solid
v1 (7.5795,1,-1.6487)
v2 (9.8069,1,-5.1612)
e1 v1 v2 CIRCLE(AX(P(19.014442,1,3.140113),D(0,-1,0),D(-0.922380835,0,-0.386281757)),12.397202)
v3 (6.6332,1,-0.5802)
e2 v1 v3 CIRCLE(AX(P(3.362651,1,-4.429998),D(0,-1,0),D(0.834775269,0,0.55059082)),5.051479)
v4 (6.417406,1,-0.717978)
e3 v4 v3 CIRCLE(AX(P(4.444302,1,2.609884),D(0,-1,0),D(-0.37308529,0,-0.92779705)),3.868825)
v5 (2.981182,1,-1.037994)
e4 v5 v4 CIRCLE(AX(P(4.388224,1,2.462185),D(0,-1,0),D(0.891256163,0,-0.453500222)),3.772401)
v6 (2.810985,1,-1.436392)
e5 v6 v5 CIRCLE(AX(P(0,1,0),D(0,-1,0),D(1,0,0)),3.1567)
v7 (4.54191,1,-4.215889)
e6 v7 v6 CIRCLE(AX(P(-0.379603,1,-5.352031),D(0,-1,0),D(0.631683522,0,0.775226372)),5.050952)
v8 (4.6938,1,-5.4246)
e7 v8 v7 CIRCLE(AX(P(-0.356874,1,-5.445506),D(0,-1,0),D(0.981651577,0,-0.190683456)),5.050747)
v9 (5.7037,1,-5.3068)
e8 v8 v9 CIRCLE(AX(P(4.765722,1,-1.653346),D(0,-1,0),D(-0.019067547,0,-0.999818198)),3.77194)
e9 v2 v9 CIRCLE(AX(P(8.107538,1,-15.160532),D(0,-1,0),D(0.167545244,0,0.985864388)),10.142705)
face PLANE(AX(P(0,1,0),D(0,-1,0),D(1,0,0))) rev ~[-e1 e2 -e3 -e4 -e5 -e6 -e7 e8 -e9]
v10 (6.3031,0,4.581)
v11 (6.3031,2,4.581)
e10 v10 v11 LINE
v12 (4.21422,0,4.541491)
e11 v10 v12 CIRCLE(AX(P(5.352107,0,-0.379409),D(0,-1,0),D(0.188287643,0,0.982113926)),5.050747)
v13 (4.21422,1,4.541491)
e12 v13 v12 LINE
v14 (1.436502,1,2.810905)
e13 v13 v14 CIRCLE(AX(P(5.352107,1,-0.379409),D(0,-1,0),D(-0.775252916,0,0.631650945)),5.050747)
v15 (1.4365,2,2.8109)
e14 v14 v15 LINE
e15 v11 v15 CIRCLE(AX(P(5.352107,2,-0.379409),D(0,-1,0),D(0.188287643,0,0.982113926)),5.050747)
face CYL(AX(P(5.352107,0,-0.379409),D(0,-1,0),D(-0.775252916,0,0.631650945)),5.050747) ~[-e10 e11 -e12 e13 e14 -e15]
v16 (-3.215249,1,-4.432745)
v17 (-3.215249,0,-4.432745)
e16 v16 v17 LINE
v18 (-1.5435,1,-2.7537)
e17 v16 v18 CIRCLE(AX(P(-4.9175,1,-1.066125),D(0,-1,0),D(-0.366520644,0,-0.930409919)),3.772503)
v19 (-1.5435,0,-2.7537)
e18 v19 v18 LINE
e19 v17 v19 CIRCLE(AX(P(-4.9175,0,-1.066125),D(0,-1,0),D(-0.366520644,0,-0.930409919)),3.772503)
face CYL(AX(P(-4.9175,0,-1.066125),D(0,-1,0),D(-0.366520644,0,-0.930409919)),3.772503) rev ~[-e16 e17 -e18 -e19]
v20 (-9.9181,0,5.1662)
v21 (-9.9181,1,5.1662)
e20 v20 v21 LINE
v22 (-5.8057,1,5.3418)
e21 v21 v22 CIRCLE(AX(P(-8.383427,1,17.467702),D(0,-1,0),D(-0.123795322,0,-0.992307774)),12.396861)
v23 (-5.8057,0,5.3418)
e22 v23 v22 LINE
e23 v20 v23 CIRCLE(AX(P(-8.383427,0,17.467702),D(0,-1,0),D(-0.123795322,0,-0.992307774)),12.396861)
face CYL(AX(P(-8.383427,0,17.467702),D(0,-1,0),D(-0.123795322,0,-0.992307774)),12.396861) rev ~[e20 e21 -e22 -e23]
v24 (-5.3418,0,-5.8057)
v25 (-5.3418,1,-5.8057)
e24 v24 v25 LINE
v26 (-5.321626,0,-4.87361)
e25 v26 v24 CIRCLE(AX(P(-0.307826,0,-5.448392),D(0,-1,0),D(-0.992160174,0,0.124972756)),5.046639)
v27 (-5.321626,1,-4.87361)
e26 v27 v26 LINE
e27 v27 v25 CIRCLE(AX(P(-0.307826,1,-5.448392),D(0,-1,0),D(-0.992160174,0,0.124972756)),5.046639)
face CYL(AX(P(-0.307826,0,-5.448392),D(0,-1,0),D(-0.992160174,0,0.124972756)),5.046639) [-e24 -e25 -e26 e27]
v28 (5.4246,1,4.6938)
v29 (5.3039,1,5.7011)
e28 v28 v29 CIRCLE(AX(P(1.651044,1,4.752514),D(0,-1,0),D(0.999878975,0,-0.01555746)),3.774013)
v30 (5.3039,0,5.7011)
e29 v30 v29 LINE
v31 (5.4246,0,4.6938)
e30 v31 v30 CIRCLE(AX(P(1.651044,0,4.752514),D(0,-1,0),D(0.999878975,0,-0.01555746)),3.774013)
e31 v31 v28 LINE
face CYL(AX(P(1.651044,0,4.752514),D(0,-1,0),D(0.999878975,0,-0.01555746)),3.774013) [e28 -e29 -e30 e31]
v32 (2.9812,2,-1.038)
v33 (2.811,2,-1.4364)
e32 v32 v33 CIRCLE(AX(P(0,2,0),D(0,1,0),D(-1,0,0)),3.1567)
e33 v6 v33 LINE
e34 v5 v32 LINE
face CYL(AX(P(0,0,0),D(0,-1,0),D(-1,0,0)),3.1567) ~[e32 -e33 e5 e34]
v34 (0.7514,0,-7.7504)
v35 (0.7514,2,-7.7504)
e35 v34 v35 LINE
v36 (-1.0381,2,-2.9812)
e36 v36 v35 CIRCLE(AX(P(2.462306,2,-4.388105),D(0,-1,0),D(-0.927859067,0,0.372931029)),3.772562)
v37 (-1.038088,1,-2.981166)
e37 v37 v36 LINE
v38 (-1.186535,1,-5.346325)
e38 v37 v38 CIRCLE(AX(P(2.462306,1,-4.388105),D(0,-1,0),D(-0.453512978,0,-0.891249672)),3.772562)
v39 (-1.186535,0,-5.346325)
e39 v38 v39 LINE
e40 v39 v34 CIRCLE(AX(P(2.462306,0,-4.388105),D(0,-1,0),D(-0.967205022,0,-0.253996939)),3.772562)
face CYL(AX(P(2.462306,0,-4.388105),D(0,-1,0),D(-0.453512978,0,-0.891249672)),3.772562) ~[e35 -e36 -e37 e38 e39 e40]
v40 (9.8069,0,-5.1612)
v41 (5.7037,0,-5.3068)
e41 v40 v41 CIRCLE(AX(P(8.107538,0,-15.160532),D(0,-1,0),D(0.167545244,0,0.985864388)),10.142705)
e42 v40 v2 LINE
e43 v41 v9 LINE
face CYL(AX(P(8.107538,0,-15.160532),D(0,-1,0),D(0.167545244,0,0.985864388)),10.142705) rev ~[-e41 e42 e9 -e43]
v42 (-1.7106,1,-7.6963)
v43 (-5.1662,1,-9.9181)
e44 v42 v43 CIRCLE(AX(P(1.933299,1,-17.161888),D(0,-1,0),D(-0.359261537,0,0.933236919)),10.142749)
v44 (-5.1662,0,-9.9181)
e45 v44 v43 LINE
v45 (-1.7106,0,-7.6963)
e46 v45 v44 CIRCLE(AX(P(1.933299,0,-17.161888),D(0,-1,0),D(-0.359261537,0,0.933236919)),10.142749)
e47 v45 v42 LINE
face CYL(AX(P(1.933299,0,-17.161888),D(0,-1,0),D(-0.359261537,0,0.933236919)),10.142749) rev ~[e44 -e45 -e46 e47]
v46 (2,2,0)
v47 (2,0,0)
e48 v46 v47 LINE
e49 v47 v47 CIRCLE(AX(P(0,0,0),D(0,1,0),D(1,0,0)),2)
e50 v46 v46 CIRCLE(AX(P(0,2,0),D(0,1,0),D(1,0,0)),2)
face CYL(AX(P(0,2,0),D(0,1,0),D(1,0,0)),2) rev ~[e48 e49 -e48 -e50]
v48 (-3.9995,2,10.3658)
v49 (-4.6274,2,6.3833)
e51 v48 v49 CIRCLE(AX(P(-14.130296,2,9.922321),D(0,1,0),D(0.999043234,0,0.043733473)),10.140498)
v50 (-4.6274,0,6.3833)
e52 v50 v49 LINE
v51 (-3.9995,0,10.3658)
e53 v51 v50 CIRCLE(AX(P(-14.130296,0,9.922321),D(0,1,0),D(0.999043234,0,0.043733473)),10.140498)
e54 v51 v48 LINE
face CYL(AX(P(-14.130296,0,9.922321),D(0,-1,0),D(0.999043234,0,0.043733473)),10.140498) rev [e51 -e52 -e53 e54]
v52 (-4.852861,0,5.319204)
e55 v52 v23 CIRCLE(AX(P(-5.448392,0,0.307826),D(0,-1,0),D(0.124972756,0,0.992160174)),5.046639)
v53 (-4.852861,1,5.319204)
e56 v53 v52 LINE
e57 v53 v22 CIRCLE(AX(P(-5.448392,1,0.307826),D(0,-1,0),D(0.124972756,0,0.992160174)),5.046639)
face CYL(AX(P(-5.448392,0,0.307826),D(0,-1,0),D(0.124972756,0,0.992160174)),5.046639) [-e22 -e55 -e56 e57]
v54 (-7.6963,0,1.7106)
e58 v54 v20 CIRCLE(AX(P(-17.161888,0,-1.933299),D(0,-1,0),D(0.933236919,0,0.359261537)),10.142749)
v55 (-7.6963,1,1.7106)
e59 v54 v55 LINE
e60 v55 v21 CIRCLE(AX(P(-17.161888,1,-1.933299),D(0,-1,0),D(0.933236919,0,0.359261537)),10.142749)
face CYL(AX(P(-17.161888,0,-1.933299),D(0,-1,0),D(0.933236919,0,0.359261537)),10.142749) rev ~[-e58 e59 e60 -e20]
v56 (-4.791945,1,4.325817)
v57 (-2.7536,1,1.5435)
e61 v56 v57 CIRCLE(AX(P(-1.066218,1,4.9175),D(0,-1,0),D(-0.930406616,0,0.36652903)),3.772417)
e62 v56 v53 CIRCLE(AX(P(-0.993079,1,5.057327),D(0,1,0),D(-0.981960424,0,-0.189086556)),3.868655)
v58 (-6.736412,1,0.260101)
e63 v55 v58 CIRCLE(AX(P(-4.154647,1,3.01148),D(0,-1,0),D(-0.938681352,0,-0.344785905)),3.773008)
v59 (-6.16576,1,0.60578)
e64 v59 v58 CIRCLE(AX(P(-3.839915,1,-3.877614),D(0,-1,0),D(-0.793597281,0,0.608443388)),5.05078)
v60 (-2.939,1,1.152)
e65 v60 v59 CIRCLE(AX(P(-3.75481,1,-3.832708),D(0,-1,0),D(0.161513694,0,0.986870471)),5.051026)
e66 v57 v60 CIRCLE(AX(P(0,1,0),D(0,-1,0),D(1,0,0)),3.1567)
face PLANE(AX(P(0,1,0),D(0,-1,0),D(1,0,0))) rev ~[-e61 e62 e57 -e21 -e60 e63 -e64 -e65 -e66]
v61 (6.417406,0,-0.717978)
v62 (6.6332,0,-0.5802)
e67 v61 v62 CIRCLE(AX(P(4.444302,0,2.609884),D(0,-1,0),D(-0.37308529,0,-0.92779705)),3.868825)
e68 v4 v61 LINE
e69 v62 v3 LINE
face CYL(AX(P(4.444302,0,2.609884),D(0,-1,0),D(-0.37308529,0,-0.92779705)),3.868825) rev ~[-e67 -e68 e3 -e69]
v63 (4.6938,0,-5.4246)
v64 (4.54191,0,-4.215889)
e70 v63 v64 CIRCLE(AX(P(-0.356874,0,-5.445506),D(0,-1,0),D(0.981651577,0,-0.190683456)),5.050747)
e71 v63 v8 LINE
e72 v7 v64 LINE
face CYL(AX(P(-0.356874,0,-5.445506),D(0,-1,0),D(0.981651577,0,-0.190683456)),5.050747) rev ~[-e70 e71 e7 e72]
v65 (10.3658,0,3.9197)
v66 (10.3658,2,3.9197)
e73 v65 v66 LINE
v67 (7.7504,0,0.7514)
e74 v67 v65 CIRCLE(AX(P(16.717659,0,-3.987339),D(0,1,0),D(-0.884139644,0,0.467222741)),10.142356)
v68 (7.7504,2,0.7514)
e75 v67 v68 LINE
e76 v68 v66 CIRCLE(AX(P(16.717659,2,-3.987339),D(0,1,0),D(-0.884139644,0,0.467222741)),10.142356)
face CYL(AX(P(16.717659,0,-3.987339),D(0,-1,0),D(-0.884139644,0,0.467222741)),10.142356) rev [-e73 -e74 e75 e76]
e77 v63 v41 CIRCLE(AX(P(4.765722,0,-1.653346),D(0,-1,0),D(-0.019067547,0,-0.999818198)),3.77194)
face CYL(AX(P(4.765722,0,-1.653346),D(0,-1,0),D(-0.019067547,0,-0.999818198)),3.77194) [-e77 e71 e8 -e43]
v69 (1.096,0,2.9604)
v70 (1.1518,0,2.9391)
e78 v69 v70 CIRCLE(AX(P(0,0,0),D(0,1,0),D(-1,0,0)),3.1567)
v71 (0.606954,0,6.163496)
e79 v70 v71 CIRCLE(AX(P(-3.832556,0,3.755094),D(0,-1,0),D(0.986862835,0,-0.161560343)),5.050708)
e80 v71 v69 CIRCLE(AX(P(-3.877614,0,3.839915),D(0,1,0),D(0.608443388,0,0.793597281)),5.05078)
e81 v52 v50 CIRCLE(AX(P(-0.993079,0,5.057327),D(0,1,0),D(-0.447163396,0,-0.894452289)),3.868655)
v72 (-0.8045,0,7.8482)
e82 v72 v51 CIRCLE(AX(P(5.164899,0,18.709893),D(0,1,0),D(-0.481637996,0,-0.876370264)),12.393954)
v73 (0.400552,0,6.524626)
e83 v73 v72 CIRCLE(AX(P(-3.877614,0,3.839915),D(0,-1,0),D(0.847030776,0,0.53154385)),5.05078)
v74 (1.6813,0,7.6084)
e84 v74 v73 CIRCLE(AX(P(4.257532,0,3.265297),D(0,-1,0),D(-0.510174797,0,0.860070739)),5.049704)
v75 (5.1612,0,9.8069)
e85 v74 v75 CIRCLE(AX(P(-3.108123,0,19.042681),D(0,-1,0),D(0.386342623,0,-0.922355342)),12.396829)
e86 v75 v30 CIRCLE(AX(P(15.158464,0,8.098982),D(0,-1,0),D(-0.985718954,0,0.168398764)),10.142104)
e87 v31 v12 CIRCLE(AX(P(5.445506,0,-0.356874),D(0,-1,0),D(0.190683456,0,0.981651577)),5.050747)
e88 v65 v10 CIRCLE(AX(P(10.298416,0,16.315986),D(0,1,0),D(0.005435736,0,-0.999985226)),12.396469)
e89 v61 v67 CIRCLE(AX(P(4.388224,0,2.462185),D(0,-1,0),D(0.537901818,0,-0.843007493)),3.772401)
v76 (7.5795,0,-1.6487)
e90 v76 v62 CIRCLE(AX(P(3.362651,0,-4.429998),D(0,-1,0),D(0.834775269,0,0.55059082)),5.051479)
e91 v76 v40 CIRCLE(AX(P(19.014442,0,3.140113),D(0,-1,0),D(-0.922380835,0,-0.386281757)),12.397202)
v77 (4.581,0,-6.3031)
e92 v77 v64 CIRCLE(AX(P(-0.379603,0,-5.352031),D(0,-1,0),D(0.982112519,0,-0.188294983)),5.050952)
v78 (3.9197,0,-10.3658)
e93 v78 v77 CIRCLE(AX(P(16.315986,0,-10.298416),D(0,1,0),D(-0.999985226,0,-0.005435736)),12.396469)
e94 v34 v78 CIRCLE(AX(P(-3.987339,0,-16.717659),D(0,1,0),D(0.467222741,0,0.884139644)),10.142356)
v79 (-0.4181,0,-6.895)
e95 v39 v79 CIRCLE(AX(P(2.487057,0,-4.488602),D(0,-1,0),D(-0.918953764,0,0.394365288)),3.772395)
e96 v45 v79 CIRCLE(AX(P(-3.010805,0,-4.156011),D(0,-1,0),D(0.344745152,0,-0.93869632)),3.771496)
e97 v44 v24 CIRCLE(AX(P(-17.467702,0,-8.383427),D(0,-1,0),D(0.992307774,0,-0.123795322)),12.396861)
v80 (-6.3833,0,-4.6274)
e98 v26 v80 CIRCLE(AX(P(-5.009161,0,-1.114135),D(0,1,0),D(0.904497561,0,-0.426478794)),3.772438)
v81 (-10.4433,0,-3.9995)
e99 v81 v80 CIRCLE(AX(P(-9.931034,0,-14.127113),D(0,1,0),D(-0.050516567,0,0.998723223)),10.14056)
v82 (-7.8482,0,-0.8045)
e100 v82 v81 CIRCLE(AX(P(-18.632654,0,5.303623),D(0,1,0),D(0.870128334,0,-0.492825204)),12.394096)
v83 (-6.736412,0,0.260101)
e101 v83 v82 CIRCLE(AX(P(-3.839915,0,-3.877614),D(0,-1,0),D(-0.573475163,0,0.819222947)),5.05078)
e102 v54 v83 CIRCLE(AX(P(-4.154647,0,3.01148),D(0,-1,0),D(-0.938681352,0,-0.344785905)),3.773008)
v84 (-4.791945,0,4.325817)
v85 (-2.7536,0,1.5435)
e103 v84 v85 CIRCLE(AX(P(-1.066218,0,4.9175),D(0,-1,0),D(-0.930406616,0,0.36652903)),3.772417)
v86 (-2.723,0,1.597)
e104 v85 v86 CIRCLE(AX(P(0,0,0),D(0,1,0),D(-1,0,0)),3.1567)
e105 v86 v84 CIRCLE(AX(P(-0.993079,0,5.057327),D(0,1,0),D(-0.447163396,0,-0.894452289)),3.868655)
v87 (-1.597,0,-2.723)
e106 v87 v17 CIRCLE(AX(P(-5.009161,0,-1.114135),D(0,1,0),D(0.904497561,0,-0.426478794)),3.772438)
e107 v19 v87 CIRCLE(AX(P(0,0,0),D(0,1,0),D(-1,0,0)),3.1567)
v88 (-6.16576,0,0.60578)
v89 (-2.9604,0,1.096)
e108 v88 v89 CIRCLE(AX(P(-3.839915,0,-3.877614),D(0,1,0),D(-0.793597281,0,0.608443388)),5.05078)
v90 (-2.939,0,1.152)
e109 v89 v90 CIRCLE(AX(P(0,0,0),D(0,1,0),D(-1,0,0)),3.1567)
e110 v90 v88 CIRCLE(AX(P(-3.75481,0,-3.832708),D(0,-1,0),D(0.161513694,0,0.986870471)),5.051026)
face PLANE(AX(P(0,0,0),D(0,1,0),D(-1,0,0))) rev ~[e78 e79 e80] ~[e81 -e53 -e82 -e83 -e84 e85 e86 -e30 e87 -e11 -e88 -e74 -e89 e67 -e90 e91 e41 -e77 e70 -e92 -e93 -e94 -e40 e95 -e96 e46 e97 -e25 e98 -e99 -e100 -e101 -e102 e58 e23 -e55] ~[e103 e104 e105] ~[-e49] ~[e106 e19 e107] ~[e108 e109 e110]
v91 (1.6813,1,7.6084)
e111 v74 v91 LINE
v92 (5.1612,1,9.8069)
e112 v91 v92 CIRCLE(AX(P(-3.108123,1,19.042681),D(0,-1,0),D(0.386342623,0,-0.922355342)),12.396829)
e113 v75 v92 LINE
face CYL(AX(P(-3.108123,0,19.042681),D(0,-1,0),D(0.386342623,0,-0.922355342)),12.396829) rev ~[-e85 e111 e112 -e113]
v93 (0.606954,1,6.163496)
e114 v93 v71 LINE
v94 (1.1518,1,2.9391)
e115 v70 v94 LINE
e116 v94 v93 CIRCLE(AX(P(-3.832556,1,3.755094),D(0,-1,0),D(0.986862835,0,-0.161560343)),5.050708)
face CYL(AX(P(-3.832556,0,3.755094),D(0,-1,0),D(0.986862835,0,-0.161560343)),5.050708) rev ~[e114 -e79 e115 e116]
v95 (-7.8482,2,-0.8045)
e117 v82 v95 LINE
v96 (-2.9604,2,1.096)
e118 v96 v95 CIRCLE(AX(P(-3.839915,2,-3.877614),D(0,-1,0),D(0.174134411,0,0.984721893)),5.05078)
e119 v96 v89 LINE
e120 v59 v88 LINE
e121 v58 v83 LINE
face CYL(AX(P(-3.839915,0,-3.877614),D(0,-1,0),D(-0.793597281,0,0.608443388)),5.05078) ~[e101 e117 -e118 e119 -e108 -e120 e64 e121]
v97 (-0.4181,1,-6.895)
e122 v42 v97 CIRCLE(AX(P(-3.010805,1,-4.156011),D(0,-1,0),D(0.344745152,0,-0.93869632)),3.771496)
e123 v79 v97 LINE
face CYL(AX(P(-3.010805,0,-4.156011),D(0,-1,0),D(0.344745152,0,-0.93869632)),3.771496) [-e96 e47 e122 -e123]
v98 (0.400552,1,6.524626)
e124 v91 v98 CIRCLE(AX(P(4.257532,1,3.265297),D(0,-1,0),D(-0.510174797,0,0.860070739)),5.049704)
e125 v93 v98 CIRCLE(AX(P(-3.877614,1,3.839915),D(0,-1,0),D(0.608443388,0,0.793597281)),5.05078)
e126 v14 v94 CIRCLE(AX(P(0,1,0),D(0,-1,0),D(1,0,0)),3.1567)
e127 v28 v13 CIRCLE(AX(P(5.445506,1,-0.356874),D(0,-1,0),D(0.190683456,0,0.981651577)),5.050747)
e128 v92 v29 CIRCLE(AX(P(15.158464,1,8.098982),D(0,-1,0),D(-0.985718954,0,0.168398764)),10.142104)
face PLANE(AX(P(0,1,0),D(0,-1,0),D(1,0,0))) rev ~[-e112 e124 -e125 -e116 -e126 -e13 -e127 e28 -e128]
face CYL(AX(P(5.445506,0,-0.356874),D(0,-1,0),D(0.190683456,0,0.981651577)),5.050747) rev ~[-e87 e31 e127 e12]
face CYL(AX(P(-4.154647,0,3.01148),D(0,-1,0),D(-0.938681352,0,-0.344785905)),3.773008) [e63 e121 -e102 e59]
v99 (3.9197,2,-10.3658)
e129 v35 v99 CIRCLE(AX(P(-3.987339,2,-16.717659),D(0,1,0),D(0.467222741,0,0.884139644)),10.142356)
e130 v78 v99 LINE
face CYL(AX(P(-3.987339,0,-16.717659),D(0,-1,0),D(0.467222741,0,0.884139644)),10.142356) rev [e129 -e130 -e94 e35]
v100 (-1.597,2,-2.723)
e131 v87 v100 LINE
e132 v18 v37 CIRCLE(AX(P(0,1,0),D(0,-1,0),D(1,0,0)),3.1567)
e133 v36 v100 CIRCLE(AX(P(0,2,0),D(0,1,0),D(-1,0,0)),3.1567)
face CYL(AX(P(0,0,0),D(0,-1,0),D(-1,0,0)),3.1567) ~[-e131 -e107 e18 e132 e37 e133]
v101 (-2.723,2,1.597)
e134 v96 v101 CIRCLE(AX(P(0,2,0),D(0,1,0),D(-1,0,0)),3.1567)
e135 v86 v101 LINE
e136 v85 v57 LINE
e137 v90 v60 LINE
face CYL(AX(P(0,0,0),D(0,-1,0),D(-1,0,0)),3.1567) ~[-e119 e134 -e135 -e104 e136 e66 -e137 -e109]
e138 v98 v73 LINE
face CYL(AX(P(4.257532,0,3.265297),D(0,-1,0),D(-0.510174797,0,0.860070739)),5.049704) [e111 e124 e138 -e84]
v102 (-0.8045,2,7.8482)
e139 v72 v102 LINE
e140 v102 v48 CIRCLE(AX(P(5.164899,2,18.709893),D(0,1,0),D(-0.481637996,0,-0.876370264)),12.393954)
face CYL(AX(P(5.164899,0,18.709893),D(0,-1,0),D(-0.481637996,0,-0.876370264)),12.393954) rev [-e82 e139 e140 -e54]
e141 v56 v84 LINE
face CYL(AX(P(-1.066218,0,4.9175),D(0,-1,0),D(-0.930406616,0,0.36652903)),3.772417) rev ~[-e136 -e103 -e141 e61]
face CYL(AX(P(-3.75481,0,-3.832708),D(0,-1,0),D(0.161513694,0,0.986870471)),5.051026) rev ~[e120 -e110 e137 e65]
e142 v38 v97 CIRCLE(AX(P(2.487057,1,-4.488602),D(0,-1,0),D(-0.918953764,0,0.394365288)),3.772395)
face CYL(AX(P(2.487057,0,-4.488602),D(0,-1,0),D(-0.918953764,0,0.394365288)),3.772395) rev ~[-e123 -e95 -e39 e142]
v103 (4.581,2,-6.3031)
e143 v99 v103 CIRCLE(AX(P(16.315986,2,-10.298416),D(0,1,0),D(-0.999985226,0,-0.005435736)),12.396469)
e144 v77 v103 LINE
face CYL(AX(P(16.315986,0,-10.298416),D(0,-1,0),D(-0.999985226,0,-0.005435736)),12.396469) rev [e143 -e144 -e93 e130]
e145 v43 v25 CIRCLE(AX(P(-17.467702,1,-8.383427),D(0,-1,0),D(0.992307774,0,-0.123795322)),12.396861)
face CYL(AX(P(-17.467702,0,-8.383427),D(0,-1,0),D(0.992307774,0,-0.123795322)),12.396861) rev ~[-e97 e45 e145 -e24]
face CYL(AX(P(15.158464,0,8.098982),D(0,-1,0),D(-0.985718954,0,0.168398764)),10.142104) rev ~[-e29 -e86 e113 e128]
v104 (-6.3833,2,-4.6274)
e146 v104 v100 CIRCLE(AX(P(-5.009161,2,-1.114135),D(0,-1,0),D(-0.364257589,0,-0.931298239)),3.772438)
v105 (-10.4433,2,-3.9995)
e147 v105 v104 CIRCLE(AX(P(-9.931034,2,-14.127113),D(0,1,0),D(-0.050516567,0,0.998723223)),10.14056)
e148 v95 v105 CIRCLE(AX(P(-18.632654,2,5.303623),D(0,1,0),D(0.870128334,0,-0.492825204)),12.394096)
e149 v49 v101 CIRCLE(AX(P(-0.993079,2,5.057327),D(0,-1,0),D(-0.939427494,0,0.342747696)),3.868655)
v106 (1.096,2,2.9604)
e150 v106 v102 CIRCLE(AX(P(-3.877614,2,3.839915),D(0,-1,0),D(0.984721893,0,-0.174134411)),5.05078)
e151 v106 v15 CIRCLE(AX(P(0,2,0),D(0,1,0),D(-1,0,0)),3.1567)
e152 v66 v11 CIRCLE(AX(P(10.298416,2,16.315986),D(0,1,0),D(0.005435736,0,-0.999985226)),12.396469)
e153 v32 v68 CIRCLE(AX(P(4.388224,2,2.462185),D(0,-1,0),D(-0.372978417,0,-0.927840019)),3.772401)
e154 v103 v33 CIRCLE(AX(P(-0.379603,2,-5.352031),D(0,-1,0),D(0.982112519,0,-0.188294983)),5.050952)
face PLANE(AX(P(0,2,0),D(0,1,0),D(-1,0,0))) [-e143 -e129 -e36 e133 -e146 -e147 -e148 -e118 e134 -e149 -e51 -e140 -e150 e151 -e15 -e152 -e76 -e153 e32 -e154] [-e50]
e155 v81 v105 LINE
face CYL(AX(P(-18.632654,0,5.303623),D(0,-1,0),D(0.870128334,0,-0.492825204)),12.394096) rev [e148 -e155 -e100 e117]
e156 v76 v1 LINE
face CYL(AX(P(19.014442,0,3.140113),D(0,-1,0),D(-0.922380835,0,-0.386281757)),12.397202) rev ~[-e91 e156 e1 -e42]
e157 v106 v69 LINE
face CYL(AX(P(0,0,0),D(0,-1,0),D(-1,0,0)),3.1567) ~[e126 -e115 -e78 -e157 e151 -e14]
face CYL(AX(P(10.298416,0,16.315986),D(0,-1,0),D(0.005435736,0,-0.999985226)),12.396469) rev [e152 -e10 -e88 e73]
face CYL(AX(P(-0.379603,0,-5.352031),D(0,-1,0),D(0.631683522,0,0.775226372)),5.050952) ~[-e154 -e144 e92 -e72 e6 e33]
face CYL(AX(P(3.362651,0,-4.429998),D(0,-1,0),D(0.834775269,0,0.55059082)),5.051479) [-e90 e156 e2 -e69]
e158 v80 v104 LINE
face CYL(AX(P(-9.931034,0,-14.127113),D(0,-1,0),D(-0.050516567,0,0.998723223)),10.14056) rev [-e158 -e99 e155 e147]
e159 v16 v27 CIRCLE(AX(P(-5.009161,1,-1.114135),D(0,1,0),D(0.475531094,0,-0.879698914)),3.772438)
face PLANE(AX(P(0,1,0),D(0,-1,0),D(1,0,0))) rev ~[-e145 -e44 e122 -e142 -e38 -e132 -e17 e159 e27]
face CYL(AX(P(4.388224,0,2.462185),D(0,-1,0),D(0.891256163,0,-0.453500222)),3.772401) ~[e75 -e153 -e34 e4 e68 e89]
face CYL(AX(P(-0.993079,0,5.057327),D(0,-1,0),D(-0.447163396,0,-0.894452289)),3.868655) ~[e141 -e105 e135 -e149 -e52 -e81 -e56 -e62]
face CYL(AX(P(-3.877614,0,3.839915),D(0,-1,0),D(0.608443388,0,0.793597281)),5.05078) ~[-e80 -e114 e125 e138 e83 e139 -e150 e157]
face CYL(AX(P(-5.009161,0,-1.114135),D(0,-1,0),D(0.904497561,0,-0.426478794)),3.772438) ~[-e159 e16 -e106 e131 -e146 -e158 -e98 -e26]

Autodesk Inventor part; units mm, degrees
ref_plane "YZ Plane" through (0, 0, 0) normal (1, 0, 0) x (0, 1, 0)
ref_plane "XZ Plane" through (0, 0, 0) normal (0, 1, 0) x (-1, 0, 0)
ref_plane "XY Plane" through (0, 0, 0) normal (0, 0, 1) x (1, 0, 0)
sketch "Sketch1" plane through (0, 0, 0) normal (0, 1, 0) x (-1, 0, 0)
  circle A0 centre (0, 0) radius 3.1567
  arc A1 (0.8045, 7.8482) -> (-1.096, 2.9604) centre (3.8775, 3.84) ccw
  arc A2 (0.8045, 7.8482) -> (3.9995, 10.3658) centre (-5.1655, 18.7108) ccw
  arc A3 (3.9995, 10.3658) -> (4.6274, 6.3833) centre (14.1317, 9.9224) ccw
  arc A4 (2.723, 1.597) -> (4.6274, 6.3833) centre (0.993, 5.0574) ccw
  arc A5 (-2.811, -1.4364) -> (-4.581, -6.3031) centre (0.3797, -5.3521) ccw
  arc A6 (-3.9197, -10.3658) -> (-4.581, -6.3031) centre (-16.3145, -10.2983) ccw
  arc A7 (-0.7514, -7.7504) -> (-3.9197, -10.3658) centre (3.9871, -16.7173) ccw
  arc A8 (-0.7514, -7.7504) -> (1.0381, -2.9812) centre (-2.4622, -4.3882) ccw
  arc A9 (-4.581, 6.3031) -> (-3.9197, 10.3658) centre (-16.3145, 10.2983) ccw
  arc A10 (-3.9197, 10.3658) -> (-0.7514, 7.7504) centre (3.9871, 16.7173) ccw
  arc A11 (0.0827, -7.173) -> (0.8045, -7.8482) centre (3.8775, -3.84) ccw
  arc A12 (3.9995, -10.4433) -> (0.8045, -7.8482) centre (-5.3042, -18.6335) ccw
  arc A13 (4.6274, -6.3833) -> (3.9995, -10.4433) centre (14.1284, -9.9311) ccw
  arc A14 (4.6274, -6.3833) -> (4.8845, -4.8845) centre (1.1142, -5.0091) ccw
  arc A15 (-6.3833, -4.6274) -> (-4.6482, -4.8692) centre (-5.0091, -1.1142) ccw
  arc A16 (-1.4365, 2.8109) -> (-6.3031, 4.581) centre (-5.3521, -0.3794) ccw
  arc A17 (-7.7504, 0.7514) -> (-2.9812, -1.038) centre (-4.3883, 2.4621) ccw
  arc A18 (-6.3833, -4.6274) -> (-10.4433, -3.9995) centre (-9.9311, -14.1284) ccw
  arc A19 (-10.4433, -3.9995) -> (-7.8482, -0.8045) centre (-18.6335, 5.3042) ccw
  arc A20 (-7.7504, 0.7514) -> (-10.3658, 3.9197) centre (-16.7173, -3.9871) ccw
  arc A21 (-10.3658, 3.9197) -> (-6.3031, 4.581) centre (-10.2983, 16.3145) ccw
  arc A22 (-7.173, -0.0827) -> (-7.8482, -0.8045) centre (-3.84, -3.8775) ccw
  circle A23 centre (0, 0) radius 3.1567
  arc A24 (1.597, -2.723) -> (6.3833, -4.6274) centre (5.0091, -1.1142) ccw
  arc A25 (7.8482, -0.8045) -> (10.4433, -3.9995) centre (18.6335, 5.3042) ccw
  arc A26 (10.4433, -3.9995) -> (6.3833, -4.6274) centre (9.9311, -14.1284) ccw
  arc A27 (7.8482, -0.8045) -> (2.9604, 1.096) centre (3.84, -3.8775) ccw
  arc A28 (10.3658, 3.9197) -> (7.7544, 0.7514) centre (16.7241, -3.9816) ccw
  arc A29 (6.2595, 4.581) -> (10.3658, 3.9197) centre (10.2556, 16.3142) ccw
  arc A30 (-4.581, 6.3031) -> (-4.6176, 4.6176) centre (0.3794, 5.3521) ccw
  arc A31 (0.0827, 7.173) -> (-0.7514, 7.7504) centre (-2.4621, 4.3883) ccw
  arc A32 (6.2595, 4.581) -> (4.8322, 4.581) centre (5.5459, -0.4191) ccw
  arc A33 (7.173, -0.0827) -> (7.7544, 0.7514) centre (4.3971, 2.4718) ccw
  point P0 (0, 0)
extrude "Extrusion1" add sketch "Sketch1" along normal blind 2 contours A0 | A0 A27 A25 A26 A24 | A0 A1 A2 A3 A4 | A8 A7 A6 A5 A0 | A0 A17 A20 A21 A16
sketch "Sketch2" plane through (0, 0, 0) normal (0, -1, 0) x (1, 0, 0)
  arc A0 (-6.3002, -4.5761) -> (-10.3587, -3.9384) centre (-9.8712, -14.0685) ccw
  arc A1 (-10.3587, -3.9384) -> (-7.7558, -0.7497) centre (-18.5261, 5.3853) ccw
  arc A2 (-7.6963, 1.7106) -> (-6.727, 0.2513) centre (-4.1552, 3.0112) ccw
  arc A3 (-7.6963, 1.7106) -> (-9.9181, 5.1662) centre (-17.1611, -1.9329) ccw
  arc A4 (1.6813, 7.6084) -> (0.3953, 6.5184) centre (4.2581, 3.2645) ccw
  arc A5 (5.4246, 4.6938) -> (5.3039, 5.7011) centre (1.6527, 4.7526) ccw
  arc A6 (5.1612, 9.8069) -> (5.3039, 5.7011) centre (15.1582, 8.099) ccw
  arc A7 (1.6813, 7.6084) -> (5.1612, 9.8069) centre (-3.1073, 19.0411) ccw
  circle A8 centre (0, 0) radius 3.1567
  arc A9 (-2.939, 1.152) -> (-7.7558, -0.7497) centre (-3.7548, -3.8328) ccw
  arc A10 (-3.9384, 10.3587) -> (-0.7497, 7.7558) centre (5.3853, 18.5261) ccw
  arc A11 (1.1518, 2.9391) -> (-0.7497, 7.7558) centre (-3.8325, 3.7551) ccw
  arc A12 (-4.5761, 6.3002) -> (-3.9384, 10.3587) centre (-14.0685, 9.8712) ccw
  arc A13 (-4.8177, 5.3149) -> (-5.8057, 5.3418) centre (-5.4487, 0.3038) ccw
  arc A14 (-9.9181, 5.1662) -> (-5.8057, 5.3418) centre (-8.3835, 17.4659) ccw
  arc A15 (-4.5761, 6.3002) -> (-2.7536, 1.5435) centre (-1.0663, 4.9175) ccw
  circle A16 centre (0, 0) radius 3.1567
  arc A17 (7.5795, -1.6487) -> (9.8069, -5.1612) centre (19.0125, 3.1391) ccw
  arc A18 (9.8069, -5.1612) -> (5.7037, -5.3068) centre (8.1076, -15.1596) ccw
  arc A19 (7.5795, -1.6487) -> (6.6332, -0.5802) centre (3.3633, -4.4295) ccw
  arc A20 (10.4117, 3.8786) -> (7.8466, 0.7681) centre (16.7974, -4.0005) ccw
  arc A21 (4.6938, -5.4246) -> (5.7037, -5.3068) centre (4.7657, -1.6529) ccw
  arc A22 (6.4086, 4.6012) -> (10.4117, 3.8786) centre (10.5823, 16.2725) ccw
  arc A23 (3.0009, -0.9796) -> (7.8466, 0.7681) centre (4.4443, 2.6098) ccw
  arc A24 (6.4086, 4.6012) -> (1.4895, 2.7832) centre (5.4455, -0.3568) ccw
  arc A25 (4.6012, -6.4086) -> (2.7832, -1.4895) centre (-0.3568, -5.4455) ccw
  arc A26 (-1.7106, -7.6963) -> (-5.1662, -9.9181) centre (1.9329, -17.1611) ccw
  arc A27 (-1.7106, -7.6963) -> (-0.4181, -6.895) centre (-3.0112, -4.1552) ccw
  arc A28 (-5.1662, -9.9181) -> (-5.3418, -5.8057) centre (-17.4659, -8.3835) ccw
  arc A29 (3.9299, -10.4697) -> (0.7681, -7.8466) centre (-3.9923, -16.8018) ccw
  arc A30 (-5.3149, -4.8177) -> (-5.3418, -5.8057) centre (-0.3038, -5.4487) ccw
  arc A31 (4.6012, -6.4086) -> (3.9299, -10.4697) centre (16.3249, -10.4325) ccw
  arc A32 (-0.9796, -3.0009) -> (0.7681, -7.8466) centre (2.487, -4.4886) ccw
  arc A33 (-6.3002, -4.5761) -> (-1.5435, -2.7537) centre (-4.9175, -1.0662) ccw
  point P0 (0, 0)
  point P1 (0, 0)
extrude "Extrusion2" add sketch "Sketch2" against normal blind 1 contours A33 A8 A32 A27 A26 A28 A30 | A8 | A2 A3 A14 A13 A15 A8 A9 | A8 A23 A19 A17 A18 A21 A25 | A11 A4 A7 A6 A5 A24 A8
sketch "Sketch3" plane through (0, 2, 0) normal (0, 1, 0) x (1, 0, 0)
  circle A0 centre (0, 0) radius 2
  dimension "d4" = 4
extrude "Extrusion3" cut sketch "Sketch3" against normal blind 2
properties part number "Hombro"
